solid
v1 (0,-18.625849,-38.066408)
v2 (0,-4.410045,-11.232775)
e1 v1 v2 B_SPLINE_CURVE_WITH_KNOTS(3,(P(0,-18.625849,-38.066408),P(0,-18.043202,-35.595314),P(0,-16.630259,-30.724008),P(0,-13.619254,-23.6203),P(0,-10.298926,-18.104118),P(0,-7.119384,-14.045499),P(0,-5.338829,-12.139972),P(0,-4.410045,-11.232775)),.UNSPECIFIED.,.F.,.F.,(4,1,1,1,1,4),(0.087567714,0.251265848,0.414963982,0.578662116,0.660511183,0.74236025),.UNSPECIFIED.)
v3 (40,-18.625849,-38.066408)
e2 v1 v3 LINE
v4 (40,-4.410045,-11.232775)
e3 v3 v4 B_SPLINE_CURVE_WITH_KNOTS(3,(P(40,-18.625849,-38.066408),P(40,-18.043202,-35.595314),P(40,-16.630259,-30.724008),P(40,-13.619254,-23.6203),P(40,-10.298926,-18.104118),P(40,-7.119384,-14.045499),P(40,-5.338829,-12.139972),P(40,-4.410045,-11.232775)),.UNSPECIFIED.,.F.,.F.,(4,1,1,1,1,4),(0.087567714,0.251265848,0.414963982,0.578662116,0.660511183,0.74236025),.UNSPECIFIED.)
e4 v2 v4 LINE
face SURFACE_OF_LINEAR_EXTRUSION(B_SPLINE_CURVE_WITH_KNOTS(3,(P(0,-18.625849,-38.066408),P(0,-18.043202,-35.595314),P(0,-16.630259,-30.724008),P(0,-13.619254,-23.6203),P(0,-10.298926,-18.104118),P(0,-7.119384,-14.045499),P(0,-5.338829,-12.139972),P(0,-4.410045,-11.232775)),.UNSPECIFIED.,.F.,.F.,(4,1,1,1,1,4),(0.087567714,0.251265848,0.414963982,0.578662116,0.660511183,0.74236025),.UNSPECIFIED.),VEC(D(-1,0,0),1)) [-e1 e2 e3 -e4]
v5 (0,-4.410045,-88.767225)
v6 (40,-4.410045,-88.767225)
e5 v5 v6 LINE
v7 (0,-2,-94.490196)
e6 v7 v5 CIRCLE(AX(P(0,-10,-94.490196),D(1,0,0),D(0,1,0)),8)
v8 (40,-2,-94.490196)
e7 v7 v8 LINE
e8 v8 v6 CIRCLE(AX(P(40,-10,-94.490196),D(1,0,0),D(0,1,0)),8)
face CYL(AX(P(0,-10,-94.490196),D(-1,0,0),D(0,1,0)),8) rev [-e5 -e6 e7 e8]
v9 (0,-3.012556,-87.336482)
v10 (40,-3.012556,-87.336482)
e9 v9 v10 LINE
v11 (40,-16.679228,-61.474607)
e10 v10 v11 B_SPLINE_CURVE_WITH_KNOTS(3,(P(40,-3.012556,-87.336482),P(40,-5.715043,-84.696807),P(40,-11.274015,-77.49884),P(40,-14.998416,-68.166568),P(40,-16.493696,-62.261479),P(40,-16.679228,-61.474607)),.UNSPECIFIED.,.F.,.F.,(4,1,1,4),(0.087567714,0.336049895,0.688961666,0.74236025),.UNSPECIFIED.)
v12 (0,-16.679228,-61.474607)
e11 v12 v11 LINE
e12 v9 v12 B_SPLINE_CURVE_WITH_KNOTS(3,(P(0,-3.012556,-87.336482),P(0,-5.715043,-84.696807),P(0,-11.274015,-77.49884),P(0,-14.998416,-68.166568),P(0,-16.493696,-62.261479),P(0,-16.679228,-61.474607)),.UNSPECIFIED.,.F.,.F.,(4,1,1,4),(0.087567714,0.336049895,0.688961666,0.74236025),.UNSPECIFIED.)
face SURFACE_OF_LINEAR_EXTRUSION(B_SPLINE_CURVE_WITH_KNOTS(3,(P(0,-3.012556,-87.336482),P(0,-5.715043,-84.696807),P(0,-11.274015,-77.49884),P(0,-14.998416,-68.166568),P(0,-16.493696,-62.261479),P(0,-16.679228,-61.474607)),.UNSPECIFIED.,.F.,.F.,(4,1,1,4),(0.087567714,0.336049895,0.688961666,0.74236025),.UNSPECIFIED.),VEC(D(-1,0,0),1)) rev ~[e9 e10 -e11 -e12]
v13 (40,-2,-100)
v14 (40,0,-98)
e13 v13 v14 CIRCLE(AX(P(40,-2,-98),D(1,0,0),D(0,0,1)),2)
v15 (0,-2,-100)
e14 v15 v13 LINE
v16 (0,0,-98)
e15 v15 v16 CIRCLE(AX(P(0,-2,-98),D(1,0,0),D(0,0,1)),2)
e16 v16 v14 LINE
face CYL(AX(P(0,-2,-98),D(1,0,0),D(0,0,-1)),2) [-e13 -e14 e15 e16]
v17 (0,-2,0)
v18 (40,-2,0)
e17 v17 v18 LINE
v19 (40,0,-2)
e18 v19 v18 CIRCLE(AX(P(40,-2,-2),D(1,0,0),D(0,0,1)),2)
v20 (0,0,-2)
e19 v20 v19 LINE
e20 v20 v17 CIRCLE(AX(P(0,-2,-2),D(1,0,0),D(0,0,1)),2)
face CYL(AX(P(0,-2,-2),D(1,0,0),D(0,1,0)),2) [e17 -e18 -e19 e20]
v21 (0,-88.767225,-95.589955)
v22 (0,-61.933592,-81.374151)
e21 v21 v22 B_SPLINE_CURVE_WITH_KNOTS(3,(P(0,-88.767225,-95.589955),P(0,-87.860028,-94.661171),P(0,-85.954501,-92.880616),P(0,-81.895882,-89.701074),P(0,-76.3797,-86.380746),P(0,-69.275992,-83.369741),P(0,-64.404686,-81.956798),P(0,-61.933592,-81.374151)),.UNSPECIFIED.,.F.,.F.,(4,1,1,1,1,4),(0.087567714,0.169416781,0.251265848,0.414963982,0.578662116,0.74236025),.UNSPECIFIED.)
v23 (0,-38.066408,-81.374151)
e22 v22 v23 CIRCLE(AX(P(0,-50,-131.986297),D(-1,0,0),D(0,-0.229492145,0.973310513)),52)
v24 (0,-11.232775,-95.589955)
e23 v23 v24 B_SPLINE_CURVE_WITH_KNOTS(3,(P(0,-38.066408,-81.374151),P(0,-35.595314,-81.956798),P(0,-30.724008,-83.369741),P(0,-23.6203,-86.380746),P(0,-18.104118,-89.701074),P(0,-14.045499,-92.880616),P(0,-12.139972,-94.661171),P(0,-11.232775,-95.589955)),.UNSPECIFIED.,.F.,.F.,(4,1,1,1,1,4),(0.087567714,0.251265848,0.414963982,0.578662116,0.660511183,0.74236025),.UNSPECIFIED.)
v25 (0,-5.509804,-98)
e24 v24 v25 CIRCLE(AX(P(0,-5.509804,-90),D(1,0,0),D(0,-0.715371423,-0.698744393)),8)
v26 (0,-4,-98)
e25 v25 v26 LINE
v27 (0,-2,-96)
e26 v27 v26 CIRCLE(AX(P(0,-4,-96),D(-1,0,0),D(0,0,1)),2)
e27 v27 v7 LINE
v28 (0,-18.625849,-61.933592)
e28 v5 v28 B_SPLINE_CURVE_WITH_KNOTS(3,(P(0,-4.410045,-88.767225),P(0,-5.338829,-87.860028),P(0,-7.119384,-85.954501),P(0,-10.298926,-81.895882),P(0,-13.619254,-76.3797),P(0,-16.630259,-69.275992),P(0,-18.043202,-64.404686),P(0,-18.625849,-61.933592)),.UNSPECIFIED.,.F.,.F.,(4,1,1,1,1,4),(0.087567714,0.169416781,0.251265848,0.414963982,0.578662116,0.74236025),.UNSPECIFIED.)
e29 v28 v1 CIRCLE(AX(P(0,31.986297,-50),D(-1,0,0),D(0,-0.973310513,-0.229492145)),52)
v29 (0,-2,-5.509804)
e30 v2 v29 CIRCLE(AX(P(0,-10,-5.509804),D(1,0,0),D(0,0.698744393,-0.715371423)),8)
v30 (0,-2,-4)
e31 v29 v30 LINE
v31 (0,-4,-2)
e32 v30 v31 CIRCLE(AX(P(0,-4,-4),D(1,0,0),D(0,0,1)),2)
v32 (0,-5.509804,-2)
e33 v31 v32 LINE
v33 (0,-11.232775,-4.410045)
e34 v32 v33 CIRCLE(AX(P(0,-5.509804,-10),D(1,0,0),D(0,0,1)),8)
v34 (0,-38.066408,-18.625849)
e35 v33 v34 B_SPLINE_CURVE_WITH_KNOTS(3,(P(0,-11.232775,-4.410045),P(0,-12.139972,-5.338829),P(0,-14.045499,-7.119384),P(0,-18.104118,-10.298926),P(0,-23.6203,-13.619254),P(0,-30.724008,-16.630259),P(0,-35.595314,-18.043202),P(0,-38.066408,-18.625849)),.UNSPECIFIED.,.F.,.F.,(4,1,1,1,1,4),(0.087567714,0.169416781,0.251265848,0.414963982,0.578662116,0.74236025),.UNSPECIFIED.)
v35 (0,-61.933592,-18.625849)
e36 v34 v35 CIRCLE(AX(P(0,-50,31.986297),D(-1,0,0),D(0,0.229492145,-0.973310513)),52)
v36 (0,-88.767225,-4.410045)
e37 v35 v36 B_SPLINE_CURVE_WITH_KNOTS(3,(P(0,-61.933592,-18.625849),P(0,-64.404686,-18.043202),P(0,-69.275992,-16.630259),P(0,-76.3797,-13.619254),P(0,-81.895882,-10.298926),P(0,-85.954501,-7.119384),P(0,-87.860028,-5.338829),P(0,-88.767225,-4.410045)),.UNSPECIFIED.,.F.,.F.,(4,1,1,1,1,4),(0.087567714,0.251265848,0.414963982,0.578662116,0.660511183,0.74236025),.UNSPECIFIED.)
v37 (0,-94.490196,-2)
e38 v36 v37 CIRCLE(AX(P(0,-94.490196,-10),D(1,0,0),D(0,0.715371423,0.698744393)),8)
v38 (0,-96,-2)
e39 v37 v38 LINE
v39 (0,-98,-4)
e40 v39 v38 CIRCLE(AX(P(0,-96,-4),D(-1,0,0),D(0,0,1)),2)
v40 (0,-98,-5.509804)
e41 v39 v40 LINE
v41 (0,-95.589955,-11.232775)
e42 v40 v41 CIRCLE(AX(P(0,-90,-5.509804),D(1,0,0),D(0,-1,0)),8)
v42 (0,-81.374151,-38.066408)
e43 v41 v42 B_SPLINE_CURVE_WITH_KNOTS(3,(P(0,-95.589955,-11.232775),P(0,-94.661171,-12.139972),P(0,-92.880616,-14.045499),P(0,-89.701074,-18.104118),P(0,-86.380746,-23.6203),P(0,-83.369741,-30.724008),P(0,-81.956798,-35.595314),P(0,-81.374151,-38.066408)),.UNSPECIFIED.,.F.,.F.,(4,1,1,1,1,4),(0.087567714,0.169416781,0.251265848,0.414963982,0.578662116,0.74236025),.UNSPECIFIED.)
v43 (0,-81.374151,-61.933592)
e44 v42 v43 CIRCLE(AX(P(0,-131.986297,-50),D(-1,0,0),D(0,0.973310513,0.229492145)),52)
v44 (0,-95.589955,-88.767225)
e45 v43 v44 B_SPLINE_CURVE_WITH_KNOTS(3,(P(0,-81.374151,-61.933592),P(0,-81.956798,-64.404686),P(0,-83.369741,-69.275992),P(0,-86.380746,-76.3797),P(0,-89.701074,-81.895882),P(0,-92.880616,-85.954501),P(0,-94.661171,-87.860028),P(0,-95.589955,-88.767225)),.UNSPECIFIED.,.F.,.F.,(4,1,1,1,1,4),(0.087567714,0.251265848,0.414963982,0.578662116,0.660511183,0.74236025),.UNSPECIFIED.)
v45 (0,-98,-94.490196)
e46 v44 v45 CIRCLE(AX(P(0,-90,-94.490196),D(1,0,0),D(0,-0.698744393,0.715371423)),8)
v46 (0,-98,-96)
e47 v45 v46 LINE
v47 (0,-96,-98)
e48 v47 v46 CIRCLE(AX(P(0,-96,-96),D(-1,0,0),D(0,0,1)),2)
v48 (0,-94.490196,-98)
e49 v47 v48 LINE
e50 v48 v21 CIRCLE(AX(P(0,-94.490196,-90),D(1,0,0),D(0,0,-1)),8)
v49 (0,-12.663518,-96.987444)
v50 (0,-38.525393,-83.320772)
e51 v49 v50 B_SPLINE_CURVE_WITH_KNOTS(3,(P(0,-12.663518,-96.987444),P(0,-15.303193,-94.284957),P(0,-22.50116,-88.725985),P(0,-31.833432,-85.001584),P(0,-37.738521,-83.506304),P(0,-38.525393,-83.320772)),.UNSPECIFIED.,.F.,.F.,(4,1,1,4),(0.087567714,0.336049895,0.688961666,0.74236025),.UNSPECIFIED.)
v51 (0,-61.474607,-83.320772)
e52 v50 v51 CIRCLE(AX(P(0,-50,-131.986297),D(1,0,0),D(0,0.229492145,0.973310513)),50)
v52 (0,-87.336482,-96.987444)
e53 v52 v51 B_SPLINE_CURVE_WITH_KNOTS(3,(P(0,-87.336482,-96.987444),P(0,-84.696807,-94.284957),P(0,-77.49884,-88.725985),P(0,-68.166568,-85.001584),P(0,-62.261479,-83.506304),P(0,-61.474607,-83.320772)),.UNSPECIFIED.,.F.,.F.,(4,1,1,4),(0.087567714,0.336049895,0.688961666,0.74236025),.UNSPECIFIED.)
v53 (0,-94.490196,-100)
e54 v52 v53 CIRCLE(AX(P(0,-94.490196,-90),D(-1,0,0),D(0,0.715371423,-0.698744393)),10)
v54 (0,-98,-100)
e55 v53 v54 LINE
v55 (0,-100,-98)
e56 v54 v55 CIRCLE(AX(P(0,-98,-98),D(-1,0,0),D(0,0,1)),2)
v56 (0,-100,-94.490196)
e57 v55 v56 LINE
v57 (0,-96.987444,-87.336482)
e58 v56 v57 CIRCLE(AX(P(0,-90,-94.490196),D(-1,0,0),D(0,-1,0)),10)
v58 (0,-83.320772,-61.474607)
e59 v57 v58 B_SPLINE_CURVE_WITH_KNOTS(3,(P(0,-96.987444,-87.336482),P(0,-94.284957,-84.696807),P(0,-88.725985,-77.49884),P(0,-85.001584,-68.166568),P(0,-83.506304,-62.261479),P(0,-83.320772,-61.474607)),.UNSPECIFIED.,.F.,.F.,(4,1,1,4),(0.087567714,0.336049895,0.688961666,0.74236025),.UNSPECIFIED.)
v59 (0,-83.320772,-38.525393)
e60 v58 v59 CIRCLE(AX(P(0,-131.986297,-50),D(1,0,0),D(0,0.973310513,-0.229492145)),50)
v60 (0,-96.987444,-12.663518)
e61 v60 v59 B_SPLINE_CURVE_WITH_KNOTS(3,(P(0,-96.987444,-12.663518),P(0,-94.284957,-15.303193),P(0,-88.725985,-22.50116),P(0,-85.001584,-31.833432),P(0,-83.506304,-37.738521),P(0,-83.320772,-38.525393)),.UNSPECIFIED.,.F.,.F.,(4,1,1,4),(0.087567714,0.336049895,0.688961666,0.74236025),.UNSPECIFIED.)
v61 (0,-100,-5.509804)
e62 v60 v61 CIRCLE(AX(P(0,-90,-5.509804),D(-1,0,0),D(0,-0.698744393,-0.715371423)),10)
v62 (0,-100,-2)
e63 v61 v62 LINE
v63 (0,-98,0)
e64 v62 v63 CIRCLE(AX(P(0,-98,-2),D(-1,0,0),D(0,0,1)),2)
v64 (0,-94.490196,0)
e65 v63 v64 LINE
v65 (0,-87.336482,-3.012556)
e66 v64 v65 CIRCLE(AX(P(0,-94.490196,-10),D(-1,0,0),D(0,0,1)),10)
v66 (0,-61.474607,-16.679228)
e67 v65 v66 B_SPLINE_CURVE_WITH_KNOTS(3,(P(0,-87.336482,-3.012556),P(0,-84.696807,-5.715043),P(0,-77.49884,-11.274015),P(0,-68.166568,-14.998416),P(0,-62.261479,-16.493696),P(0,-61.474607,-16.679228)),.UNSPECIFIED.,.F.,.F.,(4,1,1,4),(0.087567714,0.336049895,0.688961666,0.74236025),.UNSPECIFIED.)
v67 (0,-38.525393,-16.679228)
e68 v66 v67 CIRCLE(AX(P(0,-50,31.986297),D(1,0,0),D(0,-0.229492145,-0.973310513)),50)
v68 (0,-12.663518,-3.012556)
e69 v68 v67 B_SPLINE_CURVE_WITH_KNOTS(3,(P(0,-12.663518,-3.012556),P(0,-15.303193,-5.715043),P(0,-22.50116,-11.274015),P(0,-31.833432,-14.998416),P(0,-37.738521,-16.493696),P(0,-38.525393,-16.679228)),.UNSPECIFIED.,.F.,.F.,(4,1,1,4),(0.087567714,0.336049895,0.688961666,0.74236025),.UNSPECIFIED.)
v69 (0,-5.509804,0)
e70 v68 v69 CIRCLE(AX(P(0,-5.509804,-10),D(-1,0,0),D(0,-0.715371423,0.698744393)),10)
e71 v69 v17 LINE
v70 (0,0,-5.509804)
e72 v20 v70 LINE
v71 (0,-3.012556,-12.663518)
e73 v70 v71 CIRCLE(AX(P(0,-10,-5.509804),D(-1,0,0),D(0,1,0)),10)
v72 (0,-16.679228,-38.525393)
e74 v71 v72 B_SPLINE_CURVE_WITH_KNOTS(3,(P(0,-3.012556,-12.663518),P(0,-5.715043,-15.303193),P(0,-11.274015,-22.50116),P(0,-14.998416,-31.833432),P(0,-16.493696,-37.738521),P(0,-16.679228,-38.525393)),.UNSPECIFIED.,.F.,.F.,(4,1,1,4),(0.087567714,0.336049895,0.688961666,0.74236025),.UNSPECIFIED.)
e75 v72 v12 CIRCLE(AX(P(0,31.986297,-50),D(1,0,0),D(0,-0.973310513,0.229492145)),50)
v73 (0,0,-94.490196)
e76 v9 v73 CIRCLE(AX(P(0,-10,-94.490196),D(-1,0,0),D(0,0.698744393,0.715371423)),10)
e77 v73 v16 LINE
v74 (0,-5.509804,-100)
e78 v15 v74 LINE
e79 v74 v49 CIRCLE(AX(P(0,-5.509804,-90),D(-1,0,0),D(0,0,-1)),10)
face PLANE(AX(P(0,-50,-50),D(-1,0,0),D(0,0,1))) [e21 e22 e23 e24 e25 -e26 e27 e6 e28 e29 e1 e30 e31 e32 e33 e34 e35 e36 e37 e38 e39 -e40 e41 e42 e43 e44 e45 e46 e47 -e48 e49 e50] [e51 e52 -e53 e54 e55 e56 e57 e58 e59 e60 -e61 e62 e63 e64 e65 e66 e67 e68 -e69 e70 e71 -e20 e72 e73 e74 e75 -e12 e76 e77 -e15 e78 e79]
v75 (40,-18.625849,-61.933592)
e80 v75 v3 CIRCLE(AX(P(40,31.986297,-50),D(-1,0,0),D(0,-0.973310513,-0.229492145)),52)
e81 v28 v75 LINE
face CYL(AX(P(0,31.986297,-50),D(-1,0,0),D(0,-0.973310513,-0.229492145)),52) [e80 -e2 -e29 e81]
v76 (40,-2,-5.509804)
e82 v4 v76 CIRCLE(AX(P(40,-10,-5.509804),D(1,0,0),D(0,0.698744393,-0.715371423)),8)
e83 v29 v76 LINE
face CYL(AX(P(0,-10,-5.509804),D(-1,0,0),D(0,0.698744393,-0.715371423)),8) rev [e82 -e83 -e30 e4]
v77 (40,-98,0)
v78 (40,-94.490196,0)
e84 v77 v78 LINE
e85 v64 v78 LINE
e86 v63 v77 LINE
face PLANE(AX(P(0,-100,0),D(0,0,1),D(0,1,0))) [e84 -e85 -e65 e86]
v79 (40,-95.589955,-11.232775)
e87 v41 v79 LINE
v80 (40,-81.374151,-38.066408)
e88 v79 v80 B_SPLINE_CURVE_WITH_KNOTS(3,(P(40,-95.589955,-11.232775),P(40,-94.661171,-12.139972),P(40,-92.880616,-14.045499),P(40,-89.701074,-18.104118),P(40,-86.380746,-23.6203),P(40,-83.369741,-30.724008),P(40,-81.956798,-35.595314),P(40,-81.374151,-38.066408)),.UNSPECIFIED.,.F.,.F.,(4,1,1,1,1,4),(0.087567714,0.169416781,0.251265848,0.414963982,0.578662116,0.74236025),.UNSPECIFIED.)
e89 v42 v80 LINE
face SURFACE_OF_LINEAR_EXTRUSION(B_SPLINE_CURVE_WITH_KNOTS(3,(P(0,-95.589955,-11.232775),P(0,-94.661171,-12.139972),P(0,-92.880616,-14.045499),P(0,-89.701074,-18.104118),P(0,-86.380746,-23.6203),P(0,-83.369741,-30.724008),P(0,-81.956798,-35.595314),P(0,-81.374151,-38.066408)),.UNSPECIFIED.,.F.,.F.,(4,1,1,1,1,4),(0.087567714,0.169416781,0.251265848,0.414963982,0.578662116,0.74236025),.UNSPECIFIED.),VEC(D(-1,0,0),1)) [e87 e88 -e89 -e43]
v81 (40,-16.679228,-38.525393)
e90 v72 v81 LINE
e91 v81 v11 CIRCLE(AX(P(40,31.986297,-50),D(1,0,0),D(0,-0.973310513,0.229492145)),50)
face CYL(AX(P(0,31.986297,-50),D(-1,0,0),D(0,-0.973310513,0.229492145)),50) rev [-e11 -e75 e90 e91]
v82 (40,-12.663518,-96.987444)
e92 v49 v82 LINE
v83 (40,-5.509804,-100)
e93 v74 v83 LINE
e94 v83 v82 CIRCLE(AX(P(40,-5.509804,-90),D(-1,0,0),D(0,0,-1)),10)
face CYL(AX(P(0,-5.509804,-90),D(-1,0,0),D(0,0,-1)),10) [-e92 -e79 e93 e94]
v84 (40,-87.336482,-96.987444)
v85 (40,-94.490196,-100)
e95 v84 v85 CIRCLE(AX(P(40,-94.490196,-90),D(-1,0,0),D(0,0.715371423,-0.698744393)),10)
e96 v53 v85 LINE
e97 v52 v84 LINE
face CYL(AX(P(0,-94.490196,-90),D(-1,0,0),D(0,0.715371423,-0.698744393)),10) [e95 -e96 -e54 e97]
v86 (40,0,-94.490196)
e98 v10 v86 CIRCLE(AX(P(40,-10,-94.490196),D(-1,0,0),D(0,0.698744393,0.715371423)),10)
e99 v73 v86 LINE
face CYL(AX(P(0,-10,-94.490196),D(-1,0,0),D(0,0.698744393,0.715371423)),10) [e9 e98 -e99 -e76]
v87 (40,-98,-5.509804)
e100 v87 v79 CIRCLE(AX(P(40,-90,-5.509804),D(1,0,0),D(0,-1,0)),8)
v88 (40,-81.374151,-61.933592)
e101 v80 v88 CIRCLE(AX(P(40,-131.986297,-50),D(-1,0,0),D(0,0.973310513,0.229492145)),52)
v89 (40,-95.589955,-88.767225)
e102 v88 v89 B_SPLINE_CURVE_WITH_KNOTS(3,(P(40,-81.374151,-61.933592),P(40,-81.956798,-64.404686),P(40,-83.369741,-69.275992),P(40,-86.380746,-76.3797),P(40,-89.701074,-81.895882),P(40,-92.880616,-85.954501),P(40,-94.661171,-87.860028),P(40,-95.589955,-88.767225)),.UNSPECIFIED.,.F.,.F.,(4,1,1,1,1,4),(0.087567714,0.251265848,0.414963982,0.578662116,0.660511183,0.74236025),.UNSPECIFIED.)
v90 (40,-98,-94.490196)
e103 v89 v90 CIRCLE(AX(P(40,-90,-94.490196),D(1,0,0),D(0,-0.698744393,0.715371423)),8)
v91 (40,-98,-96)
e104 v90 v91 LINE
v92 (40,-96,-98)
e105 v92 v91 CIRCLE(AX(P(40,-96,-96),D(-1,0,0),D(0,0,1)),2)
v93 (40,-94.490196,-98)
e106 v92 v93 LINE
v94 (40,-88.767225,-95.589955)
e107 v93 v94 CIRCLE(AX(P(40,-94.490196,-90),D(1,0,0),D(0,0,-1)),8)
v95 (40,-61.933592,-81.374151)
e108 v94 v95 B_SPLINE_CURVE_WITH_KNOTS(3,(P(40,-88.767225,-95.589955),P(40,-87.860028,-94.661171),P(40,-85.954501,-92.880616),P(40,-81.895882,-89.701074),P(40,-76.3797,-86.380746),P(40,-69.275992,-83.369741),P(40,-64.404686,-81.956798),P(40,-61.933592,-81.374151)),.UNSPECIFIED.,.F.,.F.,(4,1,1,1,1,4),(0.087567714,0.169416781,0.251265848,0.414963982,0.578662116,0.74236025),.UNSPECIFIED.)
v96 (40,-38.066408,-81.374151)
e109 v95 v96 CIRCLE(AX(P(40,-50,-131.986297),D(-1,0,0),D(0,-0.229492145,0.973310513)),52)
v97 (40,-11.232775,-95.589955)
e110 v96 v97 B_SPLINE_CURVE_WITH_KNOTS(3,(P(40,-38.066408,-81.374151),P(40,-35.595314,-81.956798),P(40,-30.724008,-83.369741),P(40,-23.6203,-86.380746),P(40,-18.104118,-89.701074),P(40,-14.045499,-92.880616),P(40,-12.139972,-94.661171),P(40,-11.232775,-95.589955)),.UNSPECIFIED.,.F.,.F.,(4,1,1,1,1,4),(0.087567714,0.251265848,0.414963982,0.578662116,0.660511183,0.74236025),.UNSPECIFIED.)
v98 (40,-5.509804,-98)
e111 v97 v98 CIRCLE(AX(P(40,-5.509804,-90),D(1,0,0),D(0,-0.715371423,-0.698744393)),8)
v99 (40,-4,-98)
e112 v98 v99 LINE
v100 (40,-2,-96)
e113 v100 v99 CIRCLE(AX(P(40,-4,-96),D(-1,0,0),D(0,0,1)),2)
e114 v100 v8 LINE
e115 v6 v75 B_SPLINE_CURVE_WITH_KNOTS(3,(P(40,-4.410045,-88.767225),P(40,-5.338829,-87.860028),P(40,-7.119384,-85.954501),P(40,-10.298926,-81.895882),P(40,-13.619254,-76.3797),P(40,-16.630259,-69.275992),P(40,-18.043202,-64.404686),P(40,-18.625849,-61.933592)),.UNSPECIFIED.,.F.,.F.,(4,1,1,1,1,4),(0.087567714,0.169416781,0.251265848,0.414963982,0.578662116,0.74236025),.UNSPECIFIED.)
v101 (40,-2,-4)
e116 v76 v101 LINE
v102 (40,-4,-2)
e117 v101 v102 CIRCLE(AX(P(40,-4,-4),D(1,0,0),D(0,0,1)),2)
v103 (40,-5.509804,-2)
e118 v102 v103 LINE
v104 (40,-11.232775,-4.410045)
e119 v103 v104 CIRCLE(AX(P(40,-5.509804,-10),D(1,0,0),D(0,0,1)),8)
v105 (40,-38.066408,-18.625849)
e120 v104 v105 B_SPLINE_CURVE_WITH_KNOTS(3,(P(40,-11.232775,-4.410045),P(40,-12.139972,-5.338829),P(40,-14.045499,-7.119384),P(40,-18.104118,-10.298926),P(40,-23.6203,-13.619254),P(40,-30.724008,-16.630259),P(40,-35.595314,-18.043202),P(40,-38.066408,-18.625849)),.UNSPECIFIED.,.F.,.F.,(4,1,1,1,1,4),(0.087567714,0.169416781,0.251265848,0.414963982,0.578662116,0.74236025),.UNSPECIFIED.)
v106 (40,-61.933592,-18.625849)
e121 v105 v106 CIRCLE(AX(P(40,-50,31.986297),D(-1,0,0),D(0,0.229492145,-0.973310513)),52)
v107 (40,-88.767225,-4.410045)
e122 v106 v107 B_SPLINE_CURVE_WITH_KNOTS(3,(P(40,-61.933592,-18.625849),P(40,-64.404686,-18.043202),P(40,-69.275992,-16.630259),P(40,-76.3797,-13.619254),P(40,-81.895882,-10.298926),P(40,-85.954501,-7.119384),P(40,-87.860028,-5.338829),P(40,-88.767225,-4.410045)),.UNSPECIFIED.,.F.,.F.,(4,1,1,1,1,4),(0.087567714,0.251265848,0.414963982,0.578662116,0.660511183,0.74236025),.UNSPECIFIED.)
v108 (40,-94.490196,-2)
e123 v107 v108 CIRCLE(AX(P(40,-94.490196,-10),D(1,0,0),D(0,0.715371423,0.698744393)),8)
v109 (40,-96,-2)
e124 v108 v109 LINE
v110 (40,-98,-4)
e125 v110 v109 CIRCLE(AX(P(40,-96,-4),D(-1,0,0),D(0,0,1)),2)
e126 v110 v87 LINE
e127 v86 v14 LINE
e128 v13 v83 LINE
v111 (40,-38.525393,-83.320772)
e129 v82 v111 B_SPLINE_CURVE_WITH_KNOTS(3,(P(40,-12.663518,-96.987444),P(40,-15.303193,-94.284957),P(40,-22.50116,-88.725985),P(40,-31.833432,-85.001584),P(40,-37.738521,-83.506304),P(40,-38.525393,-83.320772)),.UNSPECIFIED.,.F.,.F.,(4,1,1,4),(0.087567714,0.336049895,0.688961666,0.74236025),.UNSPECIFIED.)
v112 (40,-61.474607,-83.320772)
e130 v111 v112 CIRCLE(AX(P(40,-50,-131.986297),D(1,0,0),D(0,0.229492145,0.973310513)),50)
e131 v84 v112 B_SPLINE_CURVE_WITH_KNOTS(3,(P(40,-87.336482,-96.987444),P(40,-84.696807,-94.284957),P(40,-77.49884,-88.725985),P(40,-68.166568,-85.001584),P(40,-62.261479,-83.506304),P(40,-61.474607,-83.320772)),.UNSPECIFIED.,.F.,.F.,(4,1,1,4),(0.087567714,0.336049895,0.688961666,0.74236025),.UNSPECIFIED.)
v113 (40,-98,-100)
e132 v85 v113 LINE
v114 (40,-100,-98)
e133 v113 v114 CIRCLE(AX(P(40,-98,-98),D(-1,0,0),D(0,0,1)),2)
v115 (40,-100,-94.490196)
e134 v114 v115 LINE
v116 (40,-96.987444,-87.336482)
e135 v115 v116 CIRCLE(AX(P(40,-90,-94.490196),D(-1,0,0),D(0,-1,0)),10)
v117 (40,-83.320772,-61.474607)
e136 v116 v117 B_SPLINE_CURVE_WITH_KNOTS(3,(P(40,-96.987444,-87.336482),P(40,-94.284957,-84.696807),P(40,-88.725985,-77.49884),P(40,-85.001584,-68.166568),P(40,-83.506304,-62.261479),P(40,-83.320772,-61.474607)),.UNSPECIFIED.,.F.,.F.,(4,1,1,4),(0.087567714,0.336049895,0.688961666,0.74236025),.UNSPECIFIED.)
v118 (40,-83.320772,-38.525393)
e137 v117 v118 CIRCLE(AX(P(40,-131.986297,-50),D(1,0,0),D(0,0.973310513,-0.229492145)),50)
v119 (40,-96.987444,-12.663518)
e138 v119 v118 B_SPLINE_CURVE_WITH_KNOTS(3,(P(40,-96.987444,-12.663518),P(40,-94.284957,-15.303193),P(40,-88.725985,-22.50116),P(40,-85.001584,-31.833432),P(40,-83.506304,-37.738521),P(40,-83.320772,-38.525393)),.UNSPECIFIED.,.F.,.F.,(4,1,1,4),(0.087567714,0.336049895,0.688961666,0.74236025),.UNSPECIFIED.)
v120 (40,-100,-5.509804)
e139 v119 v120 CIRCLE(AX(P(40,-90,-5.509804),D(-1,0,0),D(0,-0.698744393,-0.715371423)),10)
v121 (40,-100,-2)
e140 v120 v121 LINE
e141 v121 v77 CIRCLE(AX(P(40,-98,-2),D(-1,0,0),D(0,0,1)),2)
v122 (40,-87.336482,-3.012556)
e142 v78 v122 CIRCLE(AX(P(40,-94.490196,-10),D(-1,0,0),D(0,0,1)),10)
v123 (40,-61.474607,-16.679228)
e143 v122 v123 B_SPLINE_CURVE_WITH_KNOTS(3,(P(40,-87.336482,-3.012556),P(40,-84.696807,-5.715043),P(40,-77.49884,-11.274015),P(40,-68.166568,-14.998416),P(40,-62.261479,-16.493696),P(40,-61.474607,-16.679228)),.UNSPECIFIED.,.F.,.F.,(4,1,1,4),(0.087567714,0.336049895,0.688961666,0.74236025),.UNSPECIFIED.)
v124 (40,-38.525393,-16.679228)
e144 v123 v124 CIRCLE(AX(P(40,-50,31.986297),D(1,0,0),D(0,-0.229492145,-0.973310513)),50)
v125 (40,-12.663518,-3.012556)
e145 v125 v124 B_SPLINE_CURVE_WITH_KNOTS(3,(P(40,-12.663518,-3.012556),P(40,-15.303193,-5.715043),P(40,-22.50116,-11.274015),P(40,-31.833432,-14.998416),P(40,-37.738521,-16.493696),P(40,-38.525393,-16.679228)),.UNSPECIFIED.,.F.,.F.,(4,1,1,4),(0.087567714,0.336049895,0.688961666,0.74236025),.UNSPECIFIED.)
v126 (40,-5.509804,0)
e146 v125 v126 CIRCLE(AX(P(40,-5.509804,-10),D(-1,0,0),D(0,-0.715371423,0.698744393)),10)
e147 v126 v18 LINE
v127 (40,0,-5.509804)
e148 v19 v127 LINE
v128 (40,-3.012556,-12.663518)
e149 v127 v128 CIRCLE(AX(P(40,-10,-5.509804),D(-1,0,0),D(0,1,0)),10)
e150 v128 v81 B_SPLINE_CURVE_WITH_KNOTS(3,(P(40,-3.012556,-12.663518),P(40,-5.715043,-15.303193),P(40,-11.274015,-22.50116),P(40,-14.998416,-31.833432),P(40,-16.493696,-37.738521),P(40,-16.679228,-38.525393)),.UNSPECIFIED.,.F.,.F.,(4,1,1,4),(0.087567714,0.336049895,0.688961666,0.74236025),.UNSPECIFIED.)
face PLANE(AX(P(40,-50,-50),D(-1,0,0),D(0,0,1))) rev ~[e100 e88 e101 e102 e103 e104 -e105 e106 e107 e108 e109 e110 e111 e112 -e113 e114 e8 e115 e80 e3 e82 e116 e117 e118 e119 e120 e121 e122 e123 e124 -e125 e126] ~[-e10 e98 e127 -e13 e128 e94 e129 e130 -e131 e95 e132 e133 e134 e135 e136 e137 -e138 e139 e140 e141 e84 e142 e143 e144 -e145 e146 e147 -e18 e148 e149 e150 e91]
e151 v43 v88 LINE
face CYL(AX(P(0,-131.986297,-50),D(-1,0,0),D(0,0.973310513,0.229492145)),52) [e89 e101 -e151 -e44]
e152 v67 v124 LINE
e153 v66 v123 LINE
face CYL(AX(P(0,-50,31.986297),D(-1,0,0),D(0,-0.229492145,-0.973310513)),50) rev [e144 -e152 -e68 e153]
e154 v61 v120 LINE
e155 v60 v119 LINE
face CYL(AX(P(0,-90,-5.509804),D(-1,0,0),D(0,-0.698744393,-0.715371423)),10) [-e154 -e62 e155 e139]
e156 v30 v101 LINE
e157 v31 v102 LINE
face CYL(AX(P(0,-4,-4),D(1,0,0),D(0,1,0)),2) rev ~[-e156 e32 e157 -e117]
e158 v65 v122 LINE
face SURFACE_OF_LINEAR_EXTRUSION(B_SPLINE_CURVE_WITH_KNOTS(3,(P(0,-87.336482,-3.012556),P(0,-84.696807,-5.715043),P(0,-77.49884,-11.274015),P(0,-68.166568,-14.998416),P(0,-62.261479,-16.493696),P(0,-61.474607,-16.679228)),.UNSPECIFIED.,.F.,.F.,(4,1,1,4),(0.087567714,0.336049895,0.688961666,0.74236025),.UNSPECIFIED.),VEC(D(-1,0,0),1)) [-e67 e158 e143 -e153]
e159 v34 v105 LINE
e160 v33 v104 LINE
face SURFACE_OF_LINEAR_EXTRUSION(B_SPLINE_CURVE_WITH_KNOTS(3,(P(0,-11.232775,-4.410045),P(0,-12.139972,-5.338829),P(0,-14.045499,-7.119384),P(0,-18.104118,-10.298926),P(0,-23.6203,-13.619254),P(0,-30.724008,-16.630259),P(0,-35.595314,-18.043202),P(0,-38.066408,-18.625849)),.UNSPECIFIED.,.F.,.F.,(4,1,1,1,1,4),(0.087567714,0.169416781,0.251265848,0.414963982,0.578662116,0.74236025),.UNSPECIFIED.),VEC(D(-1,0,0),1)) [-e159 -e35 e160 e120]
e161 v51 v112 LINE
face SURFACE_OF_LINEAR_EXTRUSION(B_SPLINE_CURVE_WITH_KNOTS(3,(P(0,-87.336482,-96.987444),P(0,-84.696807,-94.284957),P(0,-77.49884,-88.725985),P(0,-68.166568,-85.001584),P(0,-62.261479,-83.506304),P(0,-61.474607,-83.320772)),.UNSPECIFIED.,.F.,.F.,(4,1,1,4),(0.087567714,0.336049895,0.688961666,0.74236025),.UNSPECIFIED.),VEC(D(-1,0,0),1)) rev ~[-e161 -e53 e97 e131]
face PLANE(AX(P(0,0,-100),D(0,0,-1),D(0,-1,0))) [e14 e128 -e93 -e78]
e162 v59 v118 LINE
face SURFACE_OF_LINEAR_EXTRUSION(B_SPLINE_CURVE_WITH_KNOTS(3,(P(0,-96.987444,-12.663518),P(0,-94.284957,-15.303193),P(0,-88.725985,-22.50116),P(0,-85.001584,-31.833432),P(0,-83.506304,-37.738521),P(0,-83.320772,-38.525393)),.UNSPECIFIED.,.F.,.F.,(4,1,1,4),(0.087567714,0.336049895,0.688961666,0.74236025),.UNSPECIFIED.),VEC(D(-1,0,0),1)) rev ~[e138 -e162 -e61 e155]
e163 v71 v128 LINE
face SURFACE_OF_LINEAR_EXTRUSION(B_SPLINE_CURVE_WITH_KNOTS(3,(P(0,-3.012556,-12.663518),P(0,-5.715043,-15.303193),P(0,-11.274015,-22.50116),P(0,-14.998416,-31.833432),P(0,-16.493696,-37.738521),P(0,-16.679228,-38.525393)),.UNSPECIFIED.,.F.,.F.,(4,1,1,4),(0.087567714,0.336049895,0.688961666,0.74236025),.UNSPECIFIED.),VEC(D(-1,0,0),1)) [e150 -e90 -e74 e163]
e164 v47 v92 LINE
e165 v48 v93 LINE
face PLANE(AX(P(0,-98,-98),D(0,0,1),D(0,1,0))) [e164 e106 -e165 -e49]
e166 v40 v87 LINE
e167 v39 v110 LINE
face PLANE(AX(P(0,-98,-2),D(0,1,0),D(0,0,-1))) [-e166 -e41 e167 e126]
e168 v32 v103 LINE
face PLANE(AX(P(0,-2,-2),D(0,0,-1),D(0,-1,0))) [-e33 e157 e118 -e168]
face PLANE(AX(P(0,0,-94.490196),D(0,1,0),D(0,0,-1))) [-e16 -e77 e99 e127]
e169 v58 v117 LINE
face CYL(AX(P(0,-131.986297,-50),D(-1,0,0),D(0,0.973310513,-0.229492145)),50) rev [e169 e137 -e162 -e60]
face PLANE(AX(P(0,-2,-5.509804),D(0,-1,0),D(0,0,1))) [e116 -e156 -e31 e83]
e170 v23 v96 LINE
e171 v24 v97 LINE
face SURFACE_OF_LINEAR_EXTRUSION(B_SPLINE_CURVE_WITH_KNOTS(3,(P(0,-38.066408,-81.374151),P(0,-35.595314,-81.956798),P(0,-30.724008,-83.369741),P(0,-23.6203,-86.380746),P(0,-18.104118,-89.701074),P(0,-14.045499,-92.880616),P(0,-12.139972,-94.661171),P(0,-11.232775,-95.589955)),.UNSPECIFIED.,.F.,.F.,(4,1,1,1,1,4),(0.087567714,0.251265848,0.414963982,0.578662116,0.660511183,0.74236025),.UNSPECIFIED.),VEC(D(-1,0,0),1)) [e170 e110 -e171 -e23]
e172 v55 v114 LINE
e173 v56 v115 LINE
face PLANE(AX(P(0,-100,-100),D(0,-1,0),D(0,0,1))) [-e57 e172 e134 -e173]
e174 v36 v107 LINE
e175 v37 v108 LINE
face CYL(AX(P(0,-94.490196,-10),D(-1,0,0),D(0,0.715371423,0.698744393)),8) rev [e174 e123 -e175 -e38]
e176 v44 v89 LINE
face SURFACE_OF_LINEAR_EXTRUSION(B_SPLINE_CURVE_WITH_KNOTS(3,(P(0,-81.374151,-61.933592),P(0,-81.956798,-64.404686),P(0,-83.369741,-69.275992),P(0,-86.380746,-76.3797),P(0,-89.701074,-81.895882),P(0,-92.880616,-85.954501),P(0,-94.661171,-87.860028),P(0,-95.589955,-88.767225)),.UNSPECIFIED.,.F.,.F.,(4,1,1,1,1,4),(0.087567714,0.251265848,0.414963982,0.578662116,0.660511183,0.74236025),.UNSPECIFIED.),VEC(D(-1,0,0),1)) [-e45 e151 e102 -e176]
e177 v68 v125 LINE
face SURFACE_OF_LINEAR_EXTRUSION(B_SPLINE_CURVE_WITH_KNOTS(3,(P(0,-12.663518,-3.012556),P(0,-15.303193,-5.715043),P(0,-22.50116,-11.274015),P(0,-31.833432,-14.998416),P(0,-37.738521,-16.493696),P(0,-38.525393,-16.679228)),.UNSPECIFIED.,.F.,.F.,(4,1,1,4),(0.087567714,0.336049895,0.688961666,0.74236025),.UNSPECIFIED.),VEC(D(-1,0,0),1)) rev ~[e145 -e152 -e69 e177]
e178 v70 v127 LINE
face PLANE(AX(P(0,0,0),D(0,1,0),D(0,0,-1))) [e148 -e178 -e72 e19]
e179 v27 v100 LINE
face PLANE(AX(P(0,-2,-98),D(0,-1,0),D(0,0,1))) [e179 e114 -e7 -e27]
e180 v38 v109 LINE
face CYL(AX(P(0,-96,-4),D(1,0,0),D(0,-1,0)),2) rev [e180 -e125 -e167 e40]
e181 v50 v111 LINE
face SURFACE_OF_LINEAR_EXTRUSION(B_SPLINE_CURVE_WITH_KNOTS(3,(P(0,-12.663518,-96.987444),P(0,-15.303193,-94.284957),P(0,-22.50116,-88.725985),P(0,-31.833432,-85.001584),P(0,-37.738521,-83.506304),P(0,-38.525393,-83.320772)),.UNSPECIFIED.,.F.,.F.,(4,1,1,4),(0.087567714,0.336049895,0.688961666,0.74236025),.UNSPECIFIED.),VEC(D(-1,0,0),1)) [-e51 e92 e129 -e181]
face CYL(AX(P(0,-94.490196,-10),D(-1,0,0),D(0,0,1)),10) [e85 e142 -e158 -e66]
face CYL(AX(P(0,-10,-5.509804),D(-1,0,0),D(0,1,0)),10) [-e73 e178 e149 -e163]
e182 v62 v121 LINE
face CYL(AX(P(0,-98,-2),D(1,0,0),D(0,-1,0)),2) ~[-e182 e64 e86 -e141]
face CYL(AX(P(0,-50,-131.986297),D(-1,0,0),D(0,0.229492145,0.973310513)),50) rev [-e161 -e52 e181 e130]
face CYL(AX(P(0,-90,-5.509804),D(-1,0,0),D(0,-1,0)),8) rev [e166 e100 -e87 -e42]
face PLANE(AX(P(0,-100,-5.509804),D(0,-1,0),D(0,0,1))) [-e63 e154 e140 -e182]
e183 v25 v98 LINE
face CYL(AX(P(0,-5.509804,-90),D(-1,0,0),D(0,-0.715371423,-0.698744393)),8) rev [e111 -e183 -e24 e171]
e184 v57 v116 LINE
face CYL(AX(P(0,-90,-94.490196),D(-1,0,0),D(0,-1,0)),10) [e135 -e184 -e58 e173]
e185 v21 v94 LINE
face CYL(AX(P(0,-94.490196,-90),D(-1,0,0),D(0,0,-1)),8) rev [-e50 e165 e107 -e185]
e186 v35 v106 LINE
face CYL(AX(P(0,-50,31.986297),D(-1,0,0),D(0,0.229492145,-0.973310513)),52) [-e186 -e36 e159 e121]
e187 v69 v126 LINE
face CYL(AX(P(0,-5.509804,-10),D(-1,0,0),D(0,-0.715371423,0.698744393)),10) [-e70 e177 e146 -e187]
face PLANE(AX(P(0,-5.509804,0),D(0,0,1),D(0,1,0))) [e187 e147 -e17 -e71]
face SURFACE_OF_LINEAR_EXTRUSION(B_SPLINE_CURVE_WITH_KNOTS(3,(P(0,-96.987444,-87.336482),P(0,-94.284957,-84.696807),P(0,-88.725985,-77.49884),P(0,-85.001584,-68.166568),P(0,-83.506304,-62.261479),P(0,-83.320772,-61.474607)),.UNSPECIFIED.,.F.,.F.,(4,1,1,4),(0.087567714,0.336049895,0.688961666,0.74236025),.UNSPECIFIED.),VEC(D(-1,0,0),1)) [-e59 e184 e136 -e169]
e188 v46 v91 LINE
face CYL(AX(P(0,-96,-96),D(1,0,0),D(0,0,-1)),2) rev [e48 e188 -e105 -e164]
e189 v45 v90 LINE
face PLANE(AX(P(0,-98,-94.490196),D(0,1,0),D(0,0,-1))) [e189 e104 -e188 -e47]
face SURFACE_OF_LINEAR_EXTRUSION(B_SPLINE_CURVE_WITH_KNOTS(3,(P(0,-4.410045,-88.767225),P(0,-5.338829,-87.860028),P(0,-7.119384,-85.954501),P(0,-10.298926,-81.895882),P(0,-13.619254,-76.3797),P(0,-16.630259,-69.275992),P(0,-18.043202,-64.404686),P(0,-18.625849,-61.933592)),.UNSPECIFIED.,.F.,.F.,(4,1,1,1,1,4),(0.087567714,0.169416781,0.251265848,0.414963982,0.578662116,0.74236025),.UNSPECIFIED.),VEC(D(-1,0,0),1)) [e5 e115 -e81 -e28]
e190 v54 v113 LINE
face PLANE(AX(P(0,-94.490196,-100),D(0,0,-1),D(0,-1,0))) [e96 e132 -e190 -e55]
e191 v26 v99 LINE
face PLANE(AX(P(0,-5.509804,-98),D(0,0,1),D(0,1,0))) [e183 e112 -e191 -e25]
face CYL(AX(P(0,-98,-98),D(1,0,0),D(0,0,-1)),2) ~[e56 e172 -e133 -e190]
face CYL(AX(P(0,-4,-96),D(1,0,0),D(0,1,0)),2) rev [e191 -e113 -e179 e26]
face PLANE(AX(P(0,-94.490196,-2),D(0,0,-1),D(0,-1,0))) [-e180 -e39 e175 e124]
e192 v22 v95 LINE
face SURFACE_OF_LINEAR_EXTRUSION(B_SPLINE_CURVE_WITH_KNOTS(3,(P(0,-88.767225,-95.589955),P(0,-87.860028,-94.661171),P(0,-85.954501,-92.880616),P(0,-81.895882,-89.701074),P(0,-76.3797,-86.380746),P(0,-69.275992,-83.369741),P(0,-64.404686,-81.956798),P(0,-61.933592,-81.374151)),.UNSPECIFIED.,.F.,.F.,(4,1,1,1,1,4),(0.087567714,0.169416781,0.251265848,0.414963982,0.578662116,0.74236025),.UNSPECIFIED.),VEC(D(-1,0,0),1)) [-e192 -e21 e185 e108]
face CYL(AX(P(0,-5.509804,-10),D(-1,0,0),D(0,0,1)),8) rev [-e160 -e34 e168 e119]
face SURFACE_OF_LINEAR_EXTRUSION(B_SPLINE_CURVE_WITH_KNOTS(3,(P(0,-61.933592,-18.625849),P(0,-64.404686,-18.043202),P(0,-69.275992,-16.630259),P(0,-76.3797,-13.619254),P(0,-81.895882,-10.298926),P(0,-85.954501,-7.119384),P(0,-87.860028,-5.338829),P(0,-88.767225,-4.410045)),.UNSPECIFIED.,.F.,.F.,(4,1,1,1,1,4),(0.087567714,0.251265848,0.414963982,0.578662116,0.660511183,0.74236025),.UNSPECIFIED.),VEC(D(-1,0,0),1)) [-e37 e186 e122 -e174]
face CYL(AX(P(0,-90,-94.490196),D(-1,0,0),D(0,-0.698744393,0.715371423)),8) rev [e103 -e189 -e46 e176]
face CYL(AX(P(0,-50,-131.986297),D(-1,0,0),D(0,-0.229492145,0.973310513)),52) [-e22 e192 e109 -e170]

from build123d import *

# Parameters (mm, degrees)
BOSS_EXTRUDE1_DEPTH = 40
FILLET1_R           = 2


with BuildPart() as part:
    # Sketch1 → Boss-Extrude1 (new body)
    with BuildSketch(Plane(origin=(0, 0, 0), x_dir=(0, 0, -1), z_dir=(1, 0, 0))):
        with BuildLine():
            Line((100, 0), (100, -5.509803926))
            ThreePointArc((100, -5.509803926), (99.216139085, -9.390883719), (96.987443928, -12.663518161))
            add(Edge.make_bspline(
                [(96.987443928, -12.663518161), (94.284956793, -15.303192699), (88.725985213, -22.501160026), (85.001584131, -31.833431523), (83.50630434, -37.738521084), (83.320771704, -38.525392743)],
                knots=[0.087567714, 0.087567714, 0.087567714, 0.087567714, 0.336049895, 0.688961666, 0.74236025, 0.74236025, 0.74236025, 0.74236025], degree=3))
            ThreePointArc((83.320771704, -38.525392743), (81.98629737, -50), (83.320771704, -61.474607257))
            add(Edge.make_bspline(
                [(96.987443928, -87.336481839), (94.284956793, -84.696807301), (88.725985213, -77.498839974), (85.001584131, -68.166568477), (83.50630434, -62.261478916), (83.320771704, -61.474607257)],
                knots=[0.087567714, 0.087567714, 0.087567714, 0.087567714, 0.336049895, 0.688961666, 0.74236025, 0.74236025, 0.74236025, 0.74236025], degree=3))
            ThreePointArc((96.987443928, -87.336481839), (99.216139085, -90.609116281), (100, -94.490196074))
            Line((100, -94.490196074), (100, -100))
            Line((100, -100), (94.490196074, -100))
            ThreePointArc((94.490196074, -100), (90.609116281, -99.216139085), (87.336481839, -96.987443928))
            add(Edge.make_bspline(
                [(87.336481839, -96.987443928), (84.696807301, -94.284956793), (77.498839974, -88.725985213), (68.166568477, -85.001584131), (62.261478916, -83.50630434), (61.474607257, -83.320771704)],
                knots=[0.087567714, 0.087567714, 0.087567714, 0.087567714, 0.336049895, 0.688961666, 0.74236025, 0.74236025, 0.74236025, 0.74236025], degree=3))
            ThreePointArc((61.474607257, -83.320771704), (50, -81.98629737), (38.525392743, -83.320771704))
            add(Edge.make_bspline(
                [(12.663518161, -96.987443928), (15.303192699, -94.284956793), (22.501160026, -88.725985213), (31.833431523, -85.001584131), (37.738521084, -83.50630434), (38.525392743, -83.320771704)],
                knots=[0.087567714, 0.087567714, 0.087567714, 0.087567714, 0.336049895, 0.688961666, 0.74236025, 0.74236025, 0.74236025, 0.74236025], degree=3))
            ThreePointArc((12.663518161, -96.987443928), (9.390883719, -99.216139085), (5.509803926, -100))
            Line((5.509803926, -100), (0, -100))
            Line((0, -100), (0, -94.490196074))
            ThreePointArc((0, -94.490196074), (0.783860915, -90.609116281), (3.012556072, -87.336481839))
            add(Edge.make_bspline(
                [(3.012556072, -87.336481839), (5.715043207, -84.696807301), (11.274014787, -77.498839974), (14.998415869, -68.166568477), (16.49369566, -62.261478916), (16.679228296, -61.474607257)],
                knots=[0.087567714, 0.087567714, 0.087567714, 0.087567714, 0.336049895, 0.688961666, 0.74236025, 0.74236025, 0.74236025, 0.74236025], degree=3))
            ThreePointArc((16.679228296, -61.474607257), (18.01370263, -50), (16.679228296, -38.525392743))
            add(Edge.make_bspline(
                [(3.012556072, -12.663518161), (5.715043207, -15.303192699), (11.274014787, -22.501160026), (14.998415869, -31.833431523), (16.49369566, -37.738521084), (16.679228296, -38.525392743)],
                knots=[0.087567714, 0.087567714, 0.087567714, 0.087567714, 0.336049895, 0.688961666, 0.74236025, 0.74236025, 0.74236025, 0.74236025], degree=3))
            ThreePointArc((3.012556072, -12.663518161), (0.783860915, -9.390883719), (0, -5.509803926))
            Line((0, -5.509803926), (0, 0))
            Line((0, 0), (5.509803926, 0))
            ThreePointArc((5.509803926, 0), (9.390883719, -0.783860915), (12.663518161, -3.012556072))
            add(Edge.make_bspline(
                [(12.663518161, -3.012556072), (15.303192699, -5.715043207), (22.501160026, -11.274014787), (31.833431523, -14.998415869), (37.738521084, -16.49369566), (38.525392743, -16.679228296)],
                knots=[0.087567714, 0.087567714, 0.087567714, 0.087567714, 0.336049895, 0.688961666, 0.74236025, 0.74236025, 0.74236025, 0.74236025], degree=3))
            ThreePointArc((38.525392743, -16.679228296), (50, -18.01370263), (61.474607257, -16.679228296))
            add(Edge.make_bspline(
                [(87.336481839, -3.012556072), (84.696807301, -5.715043207), (77.498839974, -11.274014787), (68.166568477, -14.998415869), (62.261478916, -16.49369566), (61.474607257, -16.679228296)],
                knots=[0.087567714, 0.087567714, 0.087567714, 0.087567714, 0.336049895, 0.688961666, 0.74236025, 0.74236025, 0.74236025, 0.74236025], degree=3))
            ThreePointArc((87.336481839, -3.012556072), (90.609116281, -0.783860915), (94.490196074, 0))
            Line((94.490196074, 0), (100, 0))
        make_face()
        with BuildLine():
            Line((2, -2), (2, -5.509803926))
            ThreePointArc((2, -5.509803926), (2.627088732, -8.61466776), (4.410044858, -11.232775314))
            add(Edge.make_bspline(
                [(4.410044858, -11.232775314), (5.338828529, -12.139971717), (7.119384177, -14.045499285), (10.298925927, -18.104117855), (13.619253938, -23.620299694), (16.6302594, -30.724007948), (18.043201909, -35.595313625), (18.625849322, -38.066408453)],
                knots=[0.087567714, 0.087567714, 0.087567714, 0.087567714, 0.169416781, 0.251265848, 0.414963982, 0.578662116, 0.74236025, 0.74236025, 0.74236025, 0.74236025], degree=3))
            ThreePointArc((18.625849322, -38.066408453), (20.01370263, -50), (18.625849322, -61.933591547))
            add(Edge.make_bspline(
                [(18.625849322, -61.933591547), (18.043201909, -64.404686375), (16.6302594, -69.275992052), (13.619253938, -76.379700306), (10.298925927, -81.895882145), (7.119384178, -85.954500715), (5.338828529, -87.860028283), (4.410044858, -88.767224686)],
                knots=[0.087567714, 0.087567714, 0.087567714, 0.087567714, 0.251265848, 0.414963982, 0.578662116, 0.660511183, 0.74236025, 0.74236025, 0.74236025, 0.74236025], degree=3))
            ThreePointArc((4.410044858, -88.767224686), (2.627088732, -91.38533224), (2, -94.490196074))
            Line((2, -94.490196074), (2, -98))
            Line((2, -98), (5.509803926, -98))
            ThreePointArc((5.509803926, -98), (8.61466776, -97.372911268), (11.232775314, -95.589955142))
            add(Edge.make_bspline(
                [(11.232775314, -95.589955142), (12.139971717, -94.661171471), (14.045499285, -92.880615823), (18.104117855, -89.701074073), (23.620299694, -86.380746062), (30.724007948, -83.3697406), (35.595313625, -81.956798091), (38.066408453, -81.374150678)],
                knots=[0.087567714, 0.087567714, 0.087567714, 0.087567714, 0.169416781, 0.251265848, 0.414963982, 0.578662116, 0.74236025, 0.74236025, 0.74236025, 0.74236025], degree=3))
            ThreePointArc((38.066408453, -81.374150678), (50, -79.98629737), (61.933591547, -81.374150678))
            add(Edge.make_bspline(
                [(61.933591547, -81.374150678), (64.404686375, -81.956798091), (69.275992052, -83.3697406), (76.379700306, -86.380746062), (81.895882145, -89.701074073), (85.954500715, -92.880615823), (87.860028283, -94.661171471), (88.767224686, -95.589955142)],
                knots=[0.087567714, 0.087567714, 0.087567714, 0.087567714, 0.251265848, 0.414963982, 0.578662116, 0.660511183, 0.74236025, 0.74236025, 0.74236025, 0.74236025], degree=3))
            ThreePointArc((88.767224686, -95.589955142), (91.38533224, -97.372911268), (94.490196074, -98))
            Line((94.490196074, -98), (98, -98))
            Line((98, -98), (98, -94.490196074))
            ThreePointArc((98, -94.490196074), (97.372911268, -91.38533224), (95.589955142, -88.767224686))
            add(Edge.make_bspline(
                [(95.589955142, -88.767224686), (94.661171471, -87.860028283), (92.880615823, -85.954500715), (89.701074073, -81.895882145), (86.380746062, -76.379700306), (83.3697406, -69.275992052), (81.956798091, -64.404686375), (81.374150678, -61.933591547)],
                knots=[0.087567714, 0.087567714, 0.087567714, 0.087567714, 0.169416781, 0.251265848, 0.414963982, 0.578662116, 0.74236025, 0.74236025, 0.74236025, 0.74236025], degree=3))
            ThreePointArc((81.374150678, -61.933591547), (79.98629737, -50), (81.374150678, -38.066408453))
            add(Edge.make_bspline(
                [(81.374150678, -38.066408453), (81.956798091, -35.595313625), (83.3697406, -30.724007948), (86.380746062, -23.620299694), (89.701074073, -18.104117855), (92.880615823, -14.045499285), (94.661171471, -12.139971717), (95.589955142, -11.232775314)],
                knots=[0.087567714, 0.087567714, 0.087567714, 0.087567714, 0.251265848, 0.414963982, 0.578662116, 0.660511183, 0.74236025, 0.74236025, 0.74236025, 0.74236025], degree=3))
            ThreePointArc((95.589955142, -11.232775314), (97.372911268, -8.61466776), (98, -5.509803926))
            Line((98, -5.509803926), (98, -2))
            Line((98, -2), (94.490196074, -2))
            ThreePointArc((94.490196074, -2), (91.38533224, -2.627088732), (88.767224686, -4.410044858))
            add(Edge.make_bspline(
                [(88.767224686, -4.410044858), (87.860028283, -5.338828529), (85.954500715, -7.119384177), (81.895882145, -10.298925927), (76.379700306, -13.619253938), (69.275992052, -16.6302594), (64.404686375, -18.043201909), (61.933591547, -18.625849322)],
                knots=[0.087567714, 0.087567714, 0.087567714, 0.087567714, 0.169416781, 0.251265848, 0.414963982, 0.578662116, 0.74236025, 0.74236025, 0.74236025, 0.74236025], degree=3))
            ThreePointArc((61.933591547, -18.625849322), (50, -20.01370263), (38.066408453, -18.625849322))
            add(Edge.make_bspline(
                [(38.066408453, -18.625849322), (35.595313625, -18.043201909), (30.724007948, -16.6302594), (23.620299694, -13.619253938), (18.104117855, -10.298925927), (14.045499285, -7.119384177), (12.139971717, -5.338828529), (11.232775314, -4.410044858)],
                knots=[0.087567714, 0.087567714, 0.087567714, 0.087567714, 0.251265848, 0.414963982, 0.578662116, 0.660511183, 0.74236025, 0.74236025, 0.74236025, 0.74236025], degree=3))
            ThreePointArc((11.232775314, -4.410044858), (8.61466776, -2.627088732), (5.509803926, -2))
            Line((5.509803926, -2), (2, -2))
        make_face(mode=Mode.SUBTRACT)
    extrude(amount=BOSS_EXTRUDE1_DEPTH)

    # Fillet1
    fillet1_edges = [part.edges().sort_by_distance(p)[0] for p in [
        (20, 0, 0),
        (20, 0, -100),
        (20, -100, -100),
        (20, -100, 0),
        (20, -2, -2),
        (20, -98, -2),
        (20, -98, -98),
        (20, -2, -98),
    ]]
    fillet(fillet1_edges, radius=FILLET1_R)


solid = part.part
